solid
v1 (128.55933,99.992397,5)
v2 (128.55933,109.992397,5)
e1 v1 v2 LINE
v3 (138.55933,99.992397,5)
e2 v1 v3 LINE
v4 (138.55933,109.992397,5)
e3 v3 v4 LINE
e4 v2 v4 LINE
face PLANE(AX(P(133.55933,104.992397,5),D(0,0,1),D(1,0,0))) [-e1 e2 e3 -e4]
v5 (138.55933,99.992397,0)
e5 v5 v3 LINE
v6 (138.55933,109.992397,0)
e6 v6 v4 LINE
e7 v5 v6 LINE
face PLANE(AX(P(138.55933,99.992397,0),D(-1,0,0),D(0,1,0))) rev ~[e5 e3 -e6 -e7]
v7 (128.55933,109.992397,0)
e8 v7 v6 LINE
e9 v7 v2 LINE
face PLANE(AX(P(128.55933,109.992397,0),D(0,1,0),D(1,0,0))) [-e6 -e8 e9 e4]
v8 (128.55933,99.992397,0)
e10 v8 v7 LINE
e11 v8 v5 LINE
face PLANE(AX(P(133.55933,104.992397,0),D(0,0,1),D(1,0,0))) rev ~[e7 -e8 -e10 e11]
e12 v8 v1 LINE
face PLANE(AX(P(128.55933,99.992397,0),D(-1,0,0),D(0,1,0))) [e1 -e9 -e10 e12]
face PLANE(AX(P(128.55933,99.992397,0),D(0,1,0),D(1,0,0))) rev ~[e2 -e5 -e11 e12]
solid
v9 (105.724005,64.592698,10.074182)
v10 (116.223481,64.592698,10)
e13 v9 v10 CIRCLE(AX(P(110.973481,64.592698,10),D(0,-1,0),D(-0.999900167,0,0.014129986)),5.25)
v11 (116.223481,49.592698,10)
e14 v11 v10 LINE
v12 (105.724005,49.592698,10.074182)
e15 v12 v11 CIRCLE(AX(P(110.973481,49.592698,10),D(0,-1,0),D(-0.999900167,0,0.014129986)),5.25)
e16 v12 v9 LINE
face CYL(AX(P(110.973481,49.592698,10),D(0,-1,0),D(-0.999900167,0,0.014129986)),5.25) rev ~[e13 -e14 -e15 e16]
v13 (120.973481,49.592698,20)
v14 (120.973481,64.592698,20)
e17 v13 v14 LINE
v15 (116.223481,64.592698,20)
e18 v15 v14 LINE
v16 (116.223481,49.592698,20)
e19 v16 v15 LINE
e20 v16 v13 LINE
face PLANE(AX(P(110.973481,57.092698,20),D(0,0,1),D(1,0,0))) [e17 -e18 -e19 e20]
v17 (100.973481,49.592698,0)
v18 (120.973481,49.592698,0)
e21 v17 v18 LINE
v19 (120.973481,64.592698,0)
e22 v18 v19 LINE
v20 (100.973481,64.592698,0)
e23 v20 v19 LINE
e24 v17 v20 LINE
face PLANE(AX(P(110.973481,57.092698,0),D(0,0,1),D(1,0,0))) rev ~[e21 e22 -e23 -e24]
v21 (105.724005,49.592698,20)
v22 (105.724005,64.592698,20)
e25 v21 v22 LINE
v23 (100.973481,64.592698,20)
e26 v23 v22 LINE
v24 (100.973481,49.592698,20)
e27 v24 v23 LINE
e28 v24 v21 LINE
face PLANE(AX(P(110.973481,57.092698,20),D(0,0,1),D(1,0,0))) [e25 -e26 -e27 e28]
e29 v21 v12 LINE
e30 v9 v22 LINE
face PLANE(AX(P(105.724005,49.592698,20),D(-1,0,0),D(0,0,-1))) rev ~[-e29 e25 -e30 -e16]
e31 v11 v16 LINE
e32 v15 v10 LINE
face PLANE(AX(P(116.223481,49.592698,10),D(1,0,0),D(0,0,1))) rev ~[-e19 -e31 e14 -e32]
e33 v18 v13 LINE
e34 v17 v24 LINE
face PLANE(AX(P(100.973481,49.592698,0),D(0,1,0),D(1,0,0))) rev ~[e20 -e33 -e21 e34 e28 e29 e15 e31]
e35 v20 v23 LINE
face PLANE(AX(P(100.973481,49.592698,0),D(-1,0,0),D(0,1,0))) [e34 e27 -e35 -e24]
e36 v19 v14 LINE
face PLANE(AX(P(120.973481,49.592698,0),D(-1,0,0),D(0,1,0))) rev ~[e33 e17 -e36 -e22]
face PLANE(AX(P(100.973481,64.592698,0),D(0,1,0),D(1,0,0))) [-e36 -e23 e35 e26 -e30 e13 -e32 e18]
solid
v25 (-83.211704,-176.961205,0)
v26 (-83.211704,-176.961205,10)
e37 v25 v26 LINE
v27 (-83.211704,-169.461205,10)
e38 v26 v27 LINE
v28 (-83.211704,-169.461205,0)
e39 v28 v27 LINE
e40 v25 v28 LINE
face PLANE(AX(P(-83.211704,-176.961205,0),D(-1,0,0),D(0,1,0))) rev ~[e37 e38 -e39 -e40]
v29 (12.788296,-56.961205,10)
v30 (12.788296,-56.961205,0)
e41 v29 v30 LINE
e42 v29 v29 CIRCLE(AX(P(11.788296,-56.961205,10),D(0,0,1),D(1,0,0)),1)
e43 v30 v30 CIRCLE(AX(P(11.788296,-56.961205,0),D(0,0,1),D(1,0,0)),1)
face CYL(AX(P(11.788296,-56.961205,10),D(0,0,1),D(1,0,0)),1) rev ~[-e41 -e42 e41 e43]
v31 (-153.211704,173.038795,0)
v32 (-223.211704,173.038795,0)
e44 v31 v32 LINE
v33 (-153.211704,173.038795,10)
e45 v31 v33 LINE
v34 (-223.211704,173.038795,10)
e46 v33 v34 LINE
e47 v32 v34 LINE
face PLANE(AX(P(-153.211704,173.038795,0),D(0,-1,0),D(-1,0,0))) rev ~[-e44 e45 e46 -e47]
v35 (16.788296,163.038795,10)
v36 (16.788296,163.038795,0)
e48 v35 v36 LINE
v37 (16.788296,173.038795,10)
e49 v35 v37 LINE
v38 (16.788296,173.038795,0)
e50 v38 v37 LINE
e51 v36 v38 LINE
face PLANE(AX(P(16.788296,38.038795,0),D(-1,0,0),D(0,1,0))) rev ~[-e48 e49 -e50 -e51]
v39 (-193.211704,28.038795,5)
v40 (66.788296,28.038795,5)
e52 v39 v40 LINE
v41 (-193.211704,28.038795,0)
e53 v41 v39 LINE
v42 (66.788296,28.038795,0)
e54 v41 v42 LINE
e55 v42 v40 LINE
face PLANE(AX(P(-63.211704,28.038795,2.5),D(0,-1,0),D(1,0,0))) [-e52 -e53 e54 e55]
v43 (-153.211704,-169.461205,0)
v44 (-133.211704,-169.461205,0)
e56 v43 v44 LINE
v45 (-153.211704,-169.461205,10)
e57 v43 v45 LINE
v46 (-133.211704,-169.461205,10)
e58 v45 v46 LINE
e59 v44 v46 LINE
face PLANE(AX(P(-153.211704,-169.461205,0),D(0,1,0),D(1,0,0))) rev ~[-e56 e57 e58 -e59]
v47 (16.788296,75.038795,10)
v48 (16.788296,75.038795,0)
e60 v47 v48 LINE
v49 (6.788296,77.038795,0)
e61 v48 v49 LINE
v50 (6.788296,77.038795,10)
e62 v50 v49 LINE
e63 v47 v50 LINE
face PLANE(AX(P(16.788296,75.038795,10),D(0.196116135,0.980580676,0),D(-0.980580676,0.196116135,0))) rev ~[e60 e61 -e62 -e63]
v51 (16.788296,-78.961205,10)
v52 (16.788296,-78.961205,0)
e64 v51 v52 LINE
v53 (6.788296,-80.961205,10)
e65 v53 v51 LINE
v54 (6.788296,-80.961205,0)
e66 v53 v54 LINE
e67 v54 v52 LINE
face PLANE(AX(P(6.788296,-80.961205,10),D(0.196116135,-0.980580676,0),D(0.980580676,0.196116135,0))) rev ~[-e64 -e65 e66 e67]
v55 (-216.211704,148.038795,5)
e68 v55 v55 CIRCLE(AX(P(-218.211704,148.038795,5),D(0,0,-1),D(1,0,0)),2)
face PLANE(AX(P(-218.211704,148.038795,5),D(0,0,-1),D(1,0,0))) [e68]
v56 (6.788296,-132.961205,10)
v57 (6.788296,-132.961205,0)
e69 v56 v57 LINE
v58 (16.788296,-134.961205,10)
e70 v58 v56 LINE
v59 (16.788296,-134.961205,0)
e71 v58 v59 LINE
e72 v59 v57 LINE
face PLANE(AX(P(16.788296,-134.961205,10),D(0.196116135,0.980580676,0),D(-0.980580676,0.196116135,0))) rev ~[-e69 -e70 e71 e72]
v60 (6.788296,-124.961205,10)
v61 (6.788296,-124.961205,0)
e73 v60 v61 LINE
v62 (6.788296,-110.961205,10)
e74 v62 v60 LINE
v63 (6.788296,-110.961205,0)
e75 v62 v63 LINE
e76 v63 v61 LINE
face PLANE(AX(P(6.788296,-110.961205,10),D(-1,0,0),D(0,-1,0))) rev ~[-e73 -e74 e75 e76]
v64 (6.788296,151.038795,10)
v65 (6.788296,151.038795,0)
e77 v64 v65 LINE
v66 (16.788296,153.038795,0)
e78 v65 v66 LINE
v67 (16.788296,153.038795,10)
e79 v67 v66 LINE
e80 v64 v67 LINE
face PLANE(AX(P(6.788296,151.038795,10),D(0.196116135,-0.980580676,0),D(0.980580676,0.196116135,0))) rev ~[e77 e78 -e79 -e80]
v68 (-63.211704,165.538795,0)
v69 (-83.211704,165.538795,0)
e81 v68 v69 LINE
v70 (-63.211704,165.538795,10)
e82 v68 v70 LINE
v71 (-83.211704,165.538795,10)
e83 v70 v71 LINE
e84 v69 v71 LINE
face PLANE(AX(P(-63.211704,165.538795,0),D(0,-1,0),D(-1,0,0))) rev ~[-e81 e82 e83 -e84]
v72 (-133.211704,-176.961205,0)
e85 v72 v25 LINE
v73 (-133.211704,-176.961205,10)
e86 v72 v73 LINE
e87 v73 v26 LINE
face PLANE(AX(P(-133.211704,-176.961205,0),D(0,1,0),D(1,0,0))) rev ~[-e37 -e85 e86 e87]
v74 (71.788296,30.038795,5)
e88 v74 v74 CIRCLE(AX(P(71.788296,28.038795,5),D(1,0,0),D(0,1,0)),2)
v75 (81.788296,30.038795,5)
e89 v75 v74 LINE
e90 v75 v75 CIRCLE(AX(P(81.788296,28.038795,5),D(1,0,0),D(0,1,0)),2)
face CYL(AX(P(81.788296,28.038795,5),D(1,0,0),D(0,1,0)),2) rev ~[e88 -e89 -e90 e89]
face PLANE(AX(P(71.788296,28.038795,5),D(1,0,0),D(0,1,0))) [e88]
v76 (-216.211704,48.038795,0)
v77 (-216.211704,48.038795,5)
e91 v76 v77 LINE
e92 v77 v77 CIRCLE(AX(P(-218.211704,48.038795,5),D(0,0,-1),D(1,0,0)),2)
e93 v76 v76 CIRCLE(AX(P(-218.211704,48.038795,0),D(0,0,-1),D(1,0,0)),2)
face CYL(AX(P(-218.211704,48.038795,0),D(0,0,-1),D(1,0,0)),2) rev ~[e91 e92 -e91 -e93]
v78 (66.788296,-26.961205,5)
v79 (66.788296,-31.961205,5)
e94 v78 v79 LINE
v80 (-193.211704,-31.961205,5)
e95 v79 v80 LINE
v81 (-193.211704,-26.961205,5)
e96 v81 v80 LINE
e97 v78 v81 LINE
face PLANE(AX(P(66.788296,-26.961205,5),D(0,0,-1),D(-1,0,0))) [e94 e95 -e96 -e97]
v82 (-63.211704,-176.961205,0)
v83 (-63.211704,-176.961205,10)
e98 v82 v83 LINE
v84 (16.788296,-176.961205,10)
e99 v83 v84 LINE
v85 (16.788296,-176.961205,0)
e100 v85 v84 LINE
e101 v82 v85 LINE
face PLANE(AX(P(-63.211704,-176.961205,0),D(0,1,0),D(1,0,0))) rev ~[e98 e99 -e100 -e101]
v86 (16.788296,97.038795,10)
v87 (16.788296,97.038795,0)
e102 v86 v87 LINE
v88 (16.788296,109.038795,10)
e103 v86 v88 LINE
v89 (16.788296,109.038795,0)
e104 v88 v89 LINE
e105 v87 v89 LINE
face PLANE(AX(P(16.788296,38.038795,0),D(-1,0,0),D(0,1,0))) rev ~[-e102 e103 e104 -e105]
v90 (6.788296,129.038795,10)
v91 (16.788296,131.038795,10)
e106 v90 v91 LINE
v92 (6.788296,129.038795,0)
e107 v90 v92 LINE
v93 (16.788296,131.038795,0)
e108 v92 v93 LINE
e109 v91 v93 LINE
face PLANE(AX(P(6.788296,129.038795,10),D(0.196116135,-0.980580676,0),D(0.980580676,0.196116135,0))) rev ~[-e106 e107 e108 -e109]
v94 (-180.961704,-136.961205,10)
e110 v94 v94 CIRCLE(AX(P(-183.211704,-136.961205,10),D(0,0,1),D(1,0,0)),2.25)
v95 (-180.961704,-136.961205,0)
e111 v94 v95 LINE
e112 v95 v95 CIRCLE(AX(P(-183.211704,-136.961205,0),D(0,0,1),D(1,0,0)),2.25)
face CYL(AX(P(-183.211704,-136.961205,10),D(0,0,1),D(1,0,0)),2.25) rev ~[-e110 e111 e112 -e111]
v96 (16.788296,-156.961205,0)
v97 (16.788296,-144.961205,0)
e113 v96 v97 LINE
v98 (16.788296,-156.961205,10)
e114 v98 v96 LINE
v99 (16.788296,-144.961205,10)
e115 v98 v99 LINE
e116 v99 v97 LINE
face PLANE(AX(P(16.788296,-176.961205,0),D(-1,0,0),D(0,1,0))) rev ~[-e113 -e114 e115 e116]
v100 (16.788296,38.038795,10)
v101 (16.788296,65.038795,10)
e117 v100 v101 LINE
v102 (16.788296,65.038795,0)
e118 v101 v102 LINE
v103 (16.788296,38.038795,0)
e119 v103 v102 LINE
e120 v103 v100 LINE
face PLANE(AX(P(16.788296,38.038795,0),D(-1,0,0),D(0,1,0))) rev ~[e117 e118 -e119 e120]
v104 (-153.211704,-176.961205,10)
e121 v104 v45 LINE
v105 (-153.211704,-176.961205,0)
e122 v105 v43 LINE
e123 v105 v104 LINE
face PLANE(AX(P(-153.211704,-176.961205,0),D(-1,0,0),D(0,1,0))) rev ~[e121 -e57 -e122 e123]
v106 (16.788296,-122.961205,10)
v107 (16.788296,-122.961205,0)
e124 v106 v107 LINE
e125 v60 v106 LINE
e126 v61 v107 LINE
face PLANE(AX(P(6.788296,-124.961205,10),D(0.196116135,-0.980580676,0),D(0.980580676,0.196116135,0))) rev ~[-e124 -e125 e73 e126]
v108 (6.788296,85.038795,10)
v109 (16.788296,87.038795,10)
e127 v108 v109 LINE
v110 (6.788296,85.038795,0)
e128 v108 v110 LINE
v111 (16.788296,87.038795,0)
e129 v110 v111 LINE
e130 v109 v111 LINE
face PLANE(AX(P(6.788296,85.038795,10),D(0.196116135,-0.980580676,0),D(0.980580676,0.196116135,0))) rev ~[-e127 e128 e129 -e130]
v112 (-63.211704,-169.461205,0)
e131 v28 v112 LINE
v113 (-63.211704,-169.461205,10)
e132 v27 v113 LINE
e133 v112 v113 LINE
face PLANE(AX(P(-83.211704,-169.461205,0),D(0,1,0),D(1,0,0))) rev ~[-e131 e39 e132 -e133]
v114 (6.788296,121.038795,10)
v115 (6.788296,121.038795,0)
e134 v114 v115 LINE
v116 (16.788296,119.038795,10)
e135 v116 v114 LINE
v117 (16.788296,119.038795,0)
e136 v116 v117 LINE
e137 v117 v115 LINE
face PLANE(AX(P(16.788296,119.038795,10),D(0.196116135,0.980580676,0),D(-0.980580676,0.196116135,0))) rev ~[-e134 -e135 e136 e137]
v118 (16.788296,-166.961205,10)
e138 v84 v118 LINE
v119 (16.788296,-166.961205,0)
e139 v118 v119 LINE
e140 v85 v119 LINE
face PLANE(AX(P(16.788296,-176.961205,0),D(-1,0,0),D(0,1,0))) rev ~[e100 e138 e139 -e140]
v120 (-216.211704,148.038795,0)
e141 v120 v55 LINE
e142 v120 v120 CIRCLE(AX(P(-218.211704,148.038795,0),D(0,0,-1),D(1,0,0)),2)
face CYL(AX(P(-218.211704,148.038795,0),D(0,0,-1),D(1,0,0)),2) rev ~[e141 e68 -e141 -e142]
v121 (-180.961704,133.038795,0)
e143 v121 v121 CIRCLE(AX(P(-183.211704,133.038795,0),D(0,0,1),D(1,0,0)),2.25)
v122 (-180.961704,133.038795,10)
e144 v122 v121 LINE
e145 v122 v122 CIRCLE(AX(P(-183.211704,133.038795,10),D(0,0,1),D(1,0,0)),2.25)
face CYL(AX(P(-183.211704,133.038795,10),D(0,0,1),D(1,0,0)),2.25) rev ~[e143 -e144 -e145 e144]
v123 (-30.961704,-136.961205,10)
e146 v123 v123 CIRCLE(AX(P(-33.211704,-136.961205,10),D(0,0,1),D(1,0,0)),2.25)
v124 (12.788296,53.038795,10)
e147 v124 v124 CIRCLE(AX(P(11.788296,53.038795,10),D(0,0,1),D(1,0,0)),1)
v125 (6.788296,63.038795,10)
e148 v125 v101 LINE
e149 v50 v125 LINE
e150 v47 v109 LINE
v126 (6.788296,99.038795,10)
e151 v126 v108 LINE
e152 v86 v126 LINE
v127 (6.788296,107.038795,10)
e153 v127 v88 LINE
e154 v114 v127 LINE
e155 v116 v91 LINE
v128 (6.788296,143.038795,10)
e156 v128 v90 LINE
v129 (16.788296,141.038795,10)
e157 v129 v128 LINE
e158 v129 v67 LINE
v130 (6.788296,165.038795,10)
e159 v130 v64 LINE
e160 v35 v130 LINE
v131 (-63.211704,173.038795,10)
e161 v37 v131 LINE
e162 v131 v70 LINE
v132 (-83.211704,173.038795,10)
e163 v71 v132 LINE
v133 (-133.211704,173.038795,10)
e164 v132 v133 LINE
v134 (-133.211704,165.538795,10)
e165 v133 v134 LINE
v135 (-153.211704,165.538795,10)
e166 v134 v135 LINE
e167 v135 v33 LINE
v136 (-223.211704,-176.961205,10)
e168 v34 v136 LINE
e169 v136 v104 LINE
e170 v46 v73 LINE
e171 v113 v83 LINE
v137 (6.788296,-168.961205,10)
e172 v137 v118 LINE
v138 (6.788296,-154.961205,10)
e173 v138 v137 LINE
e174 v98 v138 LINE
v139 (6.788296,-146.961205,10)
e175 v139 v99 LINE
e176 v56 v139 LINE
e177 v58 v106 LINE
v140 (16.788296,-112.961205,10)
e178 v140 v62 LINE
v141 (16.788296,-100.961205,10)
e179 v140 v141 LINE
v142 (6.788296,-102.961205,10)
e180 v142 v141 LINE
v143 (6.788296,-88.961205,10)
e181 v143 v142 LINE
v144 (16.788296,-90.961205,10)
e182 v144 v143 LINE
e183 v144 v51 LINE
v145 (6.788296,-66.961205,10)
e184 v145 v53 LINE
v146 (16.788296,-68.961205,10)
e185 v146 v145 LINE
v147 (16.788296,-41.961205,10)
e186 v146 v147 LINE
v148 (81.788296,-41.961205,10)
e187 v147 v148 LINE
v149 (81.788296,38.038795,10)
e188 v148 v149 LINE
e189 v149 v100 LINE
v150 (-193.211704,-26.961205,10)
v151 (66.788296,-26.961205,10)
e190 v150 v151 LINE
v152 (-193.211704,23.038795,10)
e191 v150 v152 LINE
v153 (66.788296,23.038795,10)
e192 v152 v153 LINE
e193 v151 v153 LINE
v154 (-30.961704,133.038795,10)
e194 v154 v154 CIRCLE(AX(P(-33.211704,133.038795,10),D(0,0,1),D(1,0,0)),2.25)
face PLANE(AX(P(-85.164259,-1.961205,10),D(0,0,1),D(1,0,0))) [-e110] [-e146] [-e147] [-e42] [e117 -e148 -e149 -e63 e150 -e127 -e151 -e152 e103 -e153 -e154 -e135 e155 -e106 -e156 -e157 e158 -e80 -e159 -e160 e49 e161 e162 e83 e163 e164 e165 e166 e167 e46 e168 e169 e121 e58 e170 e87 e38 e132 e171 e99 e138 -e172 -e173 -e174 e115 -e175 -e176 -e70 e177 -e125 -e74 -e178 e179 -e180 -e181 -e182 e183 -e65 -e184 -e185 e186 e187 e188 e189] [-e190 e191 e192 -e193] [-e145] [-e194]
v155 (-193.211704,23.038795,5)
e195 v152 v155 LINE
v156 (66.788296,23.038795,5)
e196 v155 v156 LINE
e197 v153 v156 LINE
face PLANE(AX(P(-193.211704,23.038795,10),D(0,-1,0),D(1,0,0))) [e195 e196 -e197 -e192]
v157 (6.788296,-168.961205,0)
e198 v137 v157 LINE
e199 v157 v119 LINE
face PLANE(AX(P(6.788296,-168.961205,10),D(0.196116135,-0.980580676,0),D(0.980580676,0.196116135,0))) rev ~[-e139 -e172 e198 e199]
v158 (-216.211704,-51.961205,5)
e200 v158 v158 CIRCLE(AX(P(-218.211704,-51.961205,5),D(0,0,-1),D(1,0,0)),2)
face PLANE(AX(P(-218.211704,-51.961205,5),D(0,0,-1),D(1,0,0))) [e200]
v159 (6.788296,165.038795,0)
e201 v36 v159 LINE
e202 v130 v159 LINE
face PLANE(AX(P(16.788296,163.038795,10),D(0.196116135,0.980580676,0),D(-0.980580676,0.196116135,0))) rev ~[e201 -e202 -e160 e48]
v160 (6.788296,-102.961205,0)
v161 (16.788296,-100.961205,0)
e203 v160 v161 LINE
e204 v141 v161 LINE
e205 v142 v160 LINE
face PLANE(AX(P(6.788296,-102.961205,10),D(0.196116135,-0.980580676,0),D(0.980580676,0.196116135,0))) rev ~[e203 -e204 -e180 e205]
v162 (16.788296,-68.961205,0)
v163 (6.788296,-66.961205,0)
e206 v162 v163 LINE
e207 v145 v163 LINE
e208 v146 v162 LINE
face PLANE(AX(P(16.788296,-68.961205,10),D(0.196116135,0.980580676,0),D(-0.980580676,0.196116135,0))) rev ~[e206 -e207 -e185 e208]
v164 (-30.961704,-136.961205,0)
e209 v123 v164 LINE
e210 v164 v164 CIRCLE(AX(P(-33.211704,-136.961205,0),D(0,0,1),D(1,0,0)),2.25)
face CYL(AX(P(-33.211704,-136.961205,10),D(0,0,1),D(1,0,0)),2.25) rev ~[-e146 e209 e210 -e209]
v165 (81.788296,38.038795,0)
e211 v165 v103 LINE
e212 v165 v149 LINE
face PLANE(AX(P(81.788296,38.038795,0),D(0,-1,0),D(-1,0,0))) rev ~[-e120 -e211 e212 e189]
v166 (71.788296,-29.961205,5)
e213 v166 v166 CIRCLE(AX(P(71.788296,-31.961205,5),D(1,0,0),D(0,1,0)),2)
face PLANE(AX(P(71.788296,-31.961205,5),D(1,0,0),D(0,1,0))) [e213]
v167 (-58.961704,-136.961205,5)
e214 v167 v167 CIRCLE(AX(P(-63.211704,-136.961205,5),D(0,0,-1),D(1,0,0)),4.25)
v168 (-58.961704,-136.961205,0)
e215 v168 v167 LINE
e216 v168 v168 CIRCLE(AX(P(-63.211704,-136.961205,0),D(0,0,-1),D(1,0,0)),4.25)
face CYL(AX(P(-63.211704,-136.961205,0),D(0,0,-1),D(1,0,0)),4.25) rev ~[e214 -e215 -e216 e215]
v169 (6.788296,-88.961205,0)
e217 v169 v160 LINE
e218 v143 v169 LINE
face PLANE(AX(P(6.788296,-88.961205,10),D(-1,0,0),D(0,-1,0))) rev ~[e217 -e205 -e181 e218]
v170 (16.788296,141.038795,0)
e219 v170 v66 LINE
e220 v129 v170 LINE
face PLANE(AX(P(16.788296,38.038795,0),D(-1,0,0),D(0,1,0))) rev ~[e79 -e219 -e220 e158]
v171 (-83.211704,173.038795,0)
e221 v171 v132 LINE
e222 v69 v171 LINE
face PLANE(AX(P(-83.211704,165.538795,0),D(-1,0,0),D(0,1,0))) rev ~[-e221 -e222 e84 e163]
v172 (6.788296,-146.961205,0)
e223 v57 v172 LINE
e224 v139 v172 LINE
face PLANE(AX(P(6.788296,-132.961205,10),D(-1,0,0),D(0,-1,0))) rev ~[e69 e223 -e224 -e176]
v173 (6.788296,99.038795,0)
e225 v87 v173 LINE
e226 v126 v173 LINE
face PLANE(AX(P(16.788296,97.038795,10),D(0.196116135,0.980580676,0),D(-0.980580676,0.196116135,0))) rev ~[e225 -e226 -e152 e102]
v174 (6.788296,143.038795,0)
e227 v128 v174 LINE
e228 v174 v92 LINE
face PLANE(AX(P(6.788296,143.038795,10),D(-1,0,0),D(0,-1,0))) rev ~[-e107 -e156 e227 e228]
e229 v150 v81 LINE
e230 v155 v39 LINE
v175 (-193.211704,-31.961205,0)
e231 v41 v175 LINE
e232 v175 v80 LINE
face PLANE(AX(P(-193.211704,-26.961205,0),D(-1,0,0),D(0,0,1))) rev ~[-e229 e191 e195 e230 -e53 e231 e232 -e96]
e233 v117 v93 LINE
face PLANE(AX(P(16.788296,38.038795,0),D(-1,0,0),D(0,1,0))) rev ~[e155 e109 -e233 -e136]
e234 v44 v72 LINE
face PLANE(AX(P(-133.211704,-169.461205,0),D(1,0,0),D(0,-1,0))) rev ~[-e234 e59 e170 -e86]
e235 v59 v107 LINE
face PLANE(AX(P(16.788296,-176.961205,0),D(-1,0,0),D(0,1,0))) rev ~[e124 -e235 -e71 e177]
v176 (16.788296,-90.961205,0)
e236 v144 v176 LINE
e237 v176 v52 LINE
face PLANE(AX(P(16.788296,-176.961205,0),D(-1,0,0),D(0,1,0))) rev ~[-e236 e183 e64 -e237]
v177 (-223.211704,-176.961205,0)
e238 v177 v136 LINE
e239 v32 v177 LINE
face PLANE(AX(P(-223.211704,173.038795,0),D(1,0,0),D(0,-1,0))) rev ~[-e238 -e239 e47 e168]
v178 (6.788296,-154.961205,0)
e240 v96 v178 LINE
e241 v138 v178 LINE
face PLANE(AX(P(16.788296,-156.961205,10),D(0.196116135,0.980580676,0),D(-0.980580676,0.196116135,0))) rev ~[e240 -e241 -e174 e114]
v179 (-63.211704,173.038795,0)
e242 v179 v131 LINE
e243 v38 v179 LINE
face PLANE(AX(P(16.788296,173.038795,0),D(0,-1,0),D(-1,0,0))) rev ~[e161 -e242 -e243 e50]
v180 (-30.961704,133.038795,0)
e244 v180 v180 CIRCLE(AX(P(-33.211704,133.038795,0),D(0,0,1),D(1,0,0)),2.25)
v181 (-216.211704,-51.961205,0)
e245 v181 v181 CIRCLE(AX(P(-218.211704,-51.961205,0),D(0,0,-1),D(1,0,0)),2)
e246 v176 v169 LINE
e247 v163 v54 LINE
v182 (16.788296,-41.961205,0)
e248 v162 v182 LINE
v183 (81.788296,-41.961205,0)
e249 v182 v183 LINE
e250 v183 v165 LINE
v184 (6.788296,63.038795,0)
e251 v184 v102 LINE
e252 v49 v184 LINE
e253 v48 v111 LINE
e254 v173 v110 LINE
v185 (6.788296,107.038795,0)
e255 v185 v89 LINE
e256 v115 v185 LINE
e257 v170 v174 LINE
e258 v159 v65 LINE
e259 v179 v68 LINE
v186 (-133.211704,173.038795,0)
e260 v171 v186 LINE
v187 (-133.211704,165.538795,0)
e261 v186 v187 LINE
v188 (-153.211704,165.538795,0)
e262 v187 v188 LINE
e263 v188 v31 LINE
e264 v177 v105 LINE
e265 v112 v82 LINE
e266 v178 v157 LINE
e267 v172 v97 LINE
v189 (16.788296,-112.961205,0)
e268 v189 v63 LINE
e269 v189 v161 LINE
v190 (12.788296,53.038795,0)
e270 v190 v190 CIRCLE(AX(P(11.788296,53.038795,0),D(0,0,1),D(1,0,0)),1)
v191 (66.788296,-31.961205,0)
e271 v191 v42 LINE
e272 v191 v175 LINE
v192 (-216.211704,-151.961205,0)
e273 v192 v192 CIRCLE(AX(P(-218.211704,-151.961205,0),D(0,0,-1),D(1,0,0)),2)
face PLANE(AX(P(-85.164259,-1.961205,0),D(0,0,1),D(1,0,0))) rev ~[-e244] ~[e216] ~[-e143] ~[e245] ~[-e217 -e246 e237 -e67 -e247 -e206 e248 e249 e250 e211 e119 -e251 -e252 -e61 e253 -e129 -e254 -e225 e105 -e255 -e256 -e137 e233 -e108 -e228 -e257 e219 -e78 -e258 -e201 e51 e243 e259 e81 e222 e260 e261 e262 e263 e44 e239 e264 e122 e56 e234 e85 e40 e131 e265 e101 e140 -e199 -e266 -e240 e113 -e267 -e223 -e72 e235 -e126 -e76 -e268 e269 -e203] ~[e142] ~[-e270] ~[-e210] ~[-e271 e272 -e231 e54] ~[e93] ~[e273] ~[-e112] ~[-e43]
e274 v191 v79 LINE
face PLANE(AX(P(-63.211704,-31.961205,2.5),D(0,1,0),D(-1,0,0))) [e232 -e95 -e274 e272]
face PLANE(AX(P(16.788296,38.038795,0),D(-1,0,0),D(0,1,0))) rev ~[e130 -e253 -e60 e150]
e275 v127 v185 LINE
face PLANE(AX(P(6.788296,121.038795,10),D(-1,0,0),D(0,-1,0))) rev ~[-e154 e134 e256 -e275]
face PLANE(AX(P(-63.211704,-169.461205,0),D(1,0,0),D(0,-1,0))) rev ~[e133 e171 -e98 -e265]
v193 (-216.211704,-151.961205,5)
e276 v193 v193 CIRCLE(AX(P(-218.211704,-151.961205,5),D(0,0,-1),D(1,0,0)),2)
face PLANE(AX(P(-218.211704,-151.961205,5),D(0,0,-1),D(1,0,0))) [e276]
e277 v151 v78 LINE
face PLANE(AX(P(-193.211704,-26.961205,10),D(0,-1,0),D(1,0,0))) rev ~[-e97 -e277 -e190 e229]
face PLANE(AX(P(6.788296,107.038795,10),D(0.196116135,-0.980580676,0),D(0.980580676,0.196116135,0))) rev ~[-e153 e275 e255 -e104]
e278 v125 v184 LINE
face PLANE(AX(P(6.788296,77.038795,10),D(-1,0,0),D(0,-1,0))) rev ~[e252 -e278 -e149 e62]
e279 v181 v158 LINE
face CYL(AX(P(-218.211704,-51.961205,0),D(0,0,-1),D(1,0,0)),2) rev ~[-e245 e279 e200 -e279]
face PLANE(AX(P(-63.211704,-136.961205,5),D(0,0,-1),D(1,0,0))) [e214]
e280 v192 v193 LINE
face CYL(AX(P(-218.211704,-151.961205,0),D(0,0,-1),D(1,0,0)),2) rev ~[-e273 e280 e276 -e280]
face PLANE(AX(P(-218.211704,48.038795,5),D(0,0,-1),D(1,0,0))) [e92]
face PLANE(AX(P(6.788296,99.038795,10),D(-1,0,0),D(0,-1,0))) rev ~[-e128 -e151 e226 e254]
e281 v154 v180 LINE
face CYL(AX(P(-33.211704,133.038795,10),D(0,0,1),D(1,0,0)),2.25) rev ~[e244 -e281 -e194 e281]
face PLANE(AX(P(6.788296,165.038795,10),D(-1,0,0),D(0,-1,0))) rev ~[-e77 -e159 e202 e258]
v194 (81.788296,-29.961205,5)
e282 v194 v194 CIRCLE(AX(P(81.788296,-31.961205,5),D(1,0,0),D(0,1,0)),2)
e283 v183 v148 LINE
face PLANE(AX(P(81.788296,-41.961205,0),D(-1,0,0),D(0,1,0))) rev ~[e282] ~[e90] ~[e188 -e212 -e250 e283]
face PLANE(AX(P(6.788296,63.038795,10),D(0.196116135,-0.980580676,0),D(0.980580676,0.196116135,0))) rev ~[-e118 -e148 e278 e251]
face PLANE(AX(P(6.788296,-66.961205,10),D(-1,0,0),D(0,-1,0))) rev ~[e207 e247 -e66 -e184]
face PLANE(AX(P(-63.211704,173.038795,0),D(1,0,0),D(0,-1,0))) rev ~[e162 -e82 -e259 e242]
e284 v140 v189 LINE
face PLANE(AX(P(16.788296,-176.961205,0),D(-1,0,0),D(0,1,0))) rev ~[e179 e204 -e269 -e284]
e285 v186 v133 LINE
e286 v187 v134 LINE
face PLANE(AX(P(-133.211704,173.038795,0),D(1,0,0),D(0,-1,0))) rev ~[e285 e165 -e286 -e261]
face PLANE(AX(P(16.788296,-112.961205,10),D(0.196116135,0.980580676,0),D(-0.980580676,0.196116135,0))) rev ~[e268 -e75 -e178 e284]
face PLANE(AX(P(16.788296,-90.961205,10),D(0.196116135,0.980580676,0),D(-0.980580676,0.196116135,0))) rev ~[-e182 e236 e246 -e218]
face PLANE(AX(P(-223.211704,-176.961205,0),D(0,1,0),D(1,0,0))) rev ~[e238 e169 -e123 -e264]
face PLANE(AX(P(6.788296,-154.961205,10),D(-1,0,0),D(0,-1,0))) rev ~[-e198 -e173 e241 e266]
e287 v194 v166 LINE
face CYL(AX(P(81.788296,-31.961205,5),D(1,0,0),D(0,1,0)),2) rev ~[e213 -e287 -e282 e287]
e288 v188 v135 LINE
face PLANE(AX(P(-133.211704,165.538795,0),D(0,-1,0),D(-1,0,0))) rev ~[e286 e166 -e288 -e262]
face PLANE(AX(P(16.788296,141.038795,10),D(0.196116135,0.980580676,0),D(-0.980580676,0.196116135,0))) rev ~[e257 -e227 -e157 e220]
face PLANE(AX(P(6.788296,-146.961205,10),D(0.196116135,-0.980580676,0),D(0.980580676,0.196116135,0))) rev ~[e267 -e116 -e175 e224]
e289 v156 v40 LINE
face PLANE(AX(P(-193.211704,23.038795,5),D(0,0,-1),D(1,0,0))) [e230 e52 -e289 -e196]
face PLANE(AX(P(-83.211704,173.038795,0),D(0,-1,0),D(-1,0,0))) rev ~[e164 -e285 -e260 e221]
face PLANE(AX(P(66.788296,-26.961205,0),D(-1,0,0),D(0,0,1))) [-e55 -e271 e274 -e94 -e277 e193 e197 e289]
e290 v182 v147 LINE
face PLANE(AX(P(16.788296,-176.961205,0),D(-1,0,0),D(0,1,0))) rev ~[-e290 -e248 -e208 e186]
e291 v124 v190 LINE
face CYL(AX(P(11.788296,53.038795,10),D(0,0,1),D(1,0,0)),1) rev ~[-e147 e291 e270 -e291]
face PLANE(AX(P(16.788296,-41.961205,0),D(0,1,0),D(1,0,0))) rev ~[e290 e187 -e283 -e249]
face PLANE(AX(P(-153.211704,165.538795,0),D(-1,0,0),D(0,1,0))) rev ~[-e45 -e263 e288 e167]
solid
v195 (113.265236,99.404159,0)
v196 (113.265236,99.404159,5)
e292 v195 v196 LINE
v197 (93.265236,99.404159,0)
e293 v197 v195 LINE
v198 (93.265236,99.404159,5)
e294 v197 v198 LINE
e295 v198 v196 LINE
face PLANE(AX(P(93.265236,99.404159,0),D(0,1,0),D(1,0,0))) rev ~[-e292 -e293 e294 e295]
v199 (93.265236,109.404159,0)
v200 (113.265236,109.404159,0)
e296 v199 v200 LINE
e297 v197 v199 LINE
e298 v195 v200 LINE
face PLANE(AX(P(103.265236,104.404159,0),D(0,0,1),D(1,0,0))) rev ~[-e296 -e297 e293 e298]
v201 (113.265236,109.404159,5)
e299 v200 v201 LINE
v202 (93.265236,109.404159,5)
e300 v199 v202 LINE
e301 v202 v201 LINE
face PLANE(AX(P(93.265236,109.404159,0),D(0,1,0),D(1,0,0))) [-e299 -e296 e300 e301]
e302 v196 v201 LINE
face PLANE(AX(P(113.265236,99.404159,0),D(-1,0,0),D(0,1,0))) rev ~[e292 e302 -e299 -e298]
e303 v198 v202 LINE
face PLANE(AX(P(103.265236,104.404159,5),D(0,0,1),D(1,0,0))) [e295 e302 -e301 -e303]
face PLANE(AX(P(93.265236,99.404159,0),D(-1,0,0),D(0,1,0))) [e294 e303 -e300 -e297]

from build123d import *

# Parameters (mm, degrees)
F1_DEPTH  = 10
F2_W      = 260
F2_H      = 50
F3_DEPTH  = 10.001
F4_W      = 260
F4_H      = 5
F5_DEPTH  = 5
F6_W      = 260
F6_H      = 5
F7_DEPTH  = 5
F8_R      = 2.25
F9_DEPTH  = 10.001
F10_R     = 4.25
F10_R_2   = 2
F11_DEPTH = 5
F12_R     = 1
F13_DEPTH = 10.001
F14_W     = 20
F14_H     = 10
F15_DEPTH = 5
F14_W_2   = 10
F16_W     = 20
F16_H     = 15
F17_DEPTH = 20
F19_DEPTH = 123.4470965771
F20_R     = 2
F21_DEPTH = 10
F23_DEPTH = 10.001


with BuildPart() as f1:
    # F0 (on Top) → F1 (new body)
    with BuildSketch(Plane.XY):
        Polygon((-153.2117038436, 173.0387948453), (-223.2117038436, 173.0387948453), (-223.2117038436, -176.9612051547), (-153.2117038436, -176.9612051547), (-153.2117038436, -169.4612051547), (-133.2117038436, -169.4612051547), (-133.2117038436, -176.9612051547), (-83.2117038436, -176.9612051547), (-83.2117038436, -169.4612051547), (-63.2117038436, -169.4612051547), (-63.2117038436, -176.9612051547), (16.7882961564, -176.9612051547), (16.7882961564, -41.9612051547), (81.7882961564, -41.9612051547), (81.7882961564, 38.0387948453), (16.7882961564, 38.0387948453), (16.7882961564, 173.0387948453), (-63.2117038436, 173.0387948453), (-63.2117038436, 165.5387948453), (-83.2117038436, 165.5387948453), (-83.2117038436, 173.0387948453), (-133.2117038436, 173.0387948453), (-133.2117038436, 165.5387948453), (-153.2117038436, 165.5387948453), align=None)
    extrude(amount=F1_DEPTH)

    # F2 (on face) → F3 (cut, through all)
    with BuildSketch(Plane.XY.offset(10)):
        with Locations((-63.2117038436, -1.9612051547)):
            Rectangle(F2_W, F2_H)
    extrude(amount=-F3_DEPTH, mode=Mode.SUBTRACT)

    # F4 (on face) → F5 (cut)
    with BuildSketch(Plane.XZ.offset(-23.0387948453)):
        with Locations((-63.2117038436, 2.5)):
            Rectangle(F4_W, F4_H)
    extrude(amount=-F5_DEPTH, mode=Mode.SUBTRACT)

    # F6 (on face) → F7 (cut)
    with BuildSketch(Plane(origin=(0, -26.9612051547, 0), x_dir=(-1, 0, 0), z_dir=(0, 1, 0))):
        with Locations((63.2117038436, 2.5)):
            Rectangle(F6_W, F6_H)
    extrude(amount=-F7_DEPTH, mode=Mode.SUBTRACT)

    # F8 (on face) → F9 (cut, through all)
    with BuildSketch(Plane.XY.offset(10)):
        with Locations((-183.2117038436, 133.0387948453)):
            Circle(F8_R)
        with Locations((-33.2117038436, 133.0387948453)):
            Circle(F8_R)
        with Locations((-183.2117038436, -136.9612051547)):
            Circle(F8_R)
        with Locations((-33.2117038436, -136.9612051547)):
            Circle(F8_R)
    extrude(amount=-F9_DEPTH, mode=Mode.SUBTRACT)

    # F10 (on face) → F11 (cut)
    with BuildSketch(Plane(origin=(0, 0, 0), x_dir=(1, 0, 0), z_dir=(0, 0, -1))):
        with Locations((-63.2117038436, 136.9612051547)):
            Circle(F10_R)
        with Locations((-218.2117038436, 151.9612051547)):
            Circle(F10_R_2)
        with Locations((-218.2117038436, 51.9612051547)):
            Circle(F10_R_2)
        with Locations((-218.2117038436, -48.0387948453)):
            Circle(F10_R_2)
        with Locations((-218.2117038436, -148.0387948453)):
            Circle(F10_R_2)
    extrude(amount=-F11_DEPTH, mode=Mode.SUBTRACT)

    # F12 (on face) → F13 (cut, through all)
    with BuildSketch(Plane.XY.offset(10)):
        with Locations((11.7882961564, -56.9612051547)):
            Circle(F12_R)
        with Locations((11.7882961564, 53.0387948453)):
            Circle(F12_R)
    extrude(amount=-F13_DEPTH, mode=Mode.SUBTRACT)

    # F20 (on face) → F21 (cut)
    with BuildSketch(Plane.YZ.offset(81.7882961564)):
        with Locations((-31.9612051547, 5)):
            Circle(F20_R)
        with Locations((28.0387948453, 5)):
            Circle(F20_R)
    extrude(amount=-F21_DEPTH, mode=Mode.SUBTRACT)

    # F22 (on face) → F23 (cut, through all)
    with BuildSketch(Plane.XY.offset(10)):
        Polygon((6.7882961564, -168.9612051547), (16.7882961564, -166.9612051547), (16.7882961564, -156.9612051547), (6.7882961564, -154.9612051547), align=None)
        Polygon((16.7882961564, 153.0387948453), (16.7882961564, 163.0387948453), (6.7882961564, 165.0387948453), (6.7882961564, 151.0387948453), align=None)
        Polygon((6.7882961564, 143.0387948453), (6.7882961564, 129.0387948453), (16.7882961564, 131.0387948453), (16.7882961564, 141.0387948453), align=None)
        Polygon((6.7882961564, 121.0387948453), (6.7882961564, 107.0387948453), (16.7882961564, 109.0387948453), (16.7882961564, 119.0387948453), align=None)
        Polygon((6.7882961564, 99.0387948453), (6.7882961564, 85.0387948453), (16.7882961564, 87.0387948453), (16.7882961564, 97.0387948453), align=None)
        Polygon((6.7882961564, -146.9612051547), (16.7882961564, -144.9612051547), (16.7882961564, -134.9612051547), (6.7882961564, -132.9612051547), align=None)
        Polygon((6.7882961564, -124.9612051547), (16.7882961564, -122.9612051547), (16.7882961564, -112.9612051547), (6.7882961564, -110.9612051547), align=None)
        Polygon((6.7882961564, -102.9612051547), (16.7882961564, -100.9612051547), (16.7882961564, -90.9612051547), (6.7882961564, -88.9612051547), align=None)
        Polygon((6.7882961564, 77.0387948453), (6.7882961564, 63.0387948453), (16.7882961564, 65.0387948453), (16.7882961564, 75.0387948453), align=None)
        Polygon((6.7882961564, -80.9612051547), (16.7882961564, -78.9612051547), (16.7882961564, -68.9612051547), (6.7882961564, -66.9612051547), align=None)
    extrude(amount=-F23_DEPTH, mode=Mode.SUBTRACT)


with BuildPart() as f15:
    # F14 (on Top) → F15 (new body)
    with BuildSketch(Plane.XY):
        with Locations((103.2652358298, 104.4041585319)):
            Rectangle(F14_W, F14_H)
    extrude(amount=F15_DEPTH)


with BuildPart() as f15b:
    # F14 (on Top) → F15, piece 2 (new body)
    with BuildSketch(Plane.XY):
        with Locations((133.5593304069, 104.9923974879)):
            Rectangle(F14_W_2, F14_H)
    extrude(amount=F15_DEPTH)


with BuildPart() as f17:
    # F16 (on Top) → F17 (new body)
    with BuildSketch(Plane.XY):
        with Locations((110.9734810889, 57.0926982683)):
            Rectangle(F16_W, F16_H)
    extrude(amount=F17_DEPTH)

    # F18 (on face) → F19 (cut, through all)
    with BuildSketch(Plane.XZ.offset(-49.5926982683)):
        with BuildLine():
            Line((105.7240052134, 20), (105.7240052134, 10.0741824286))
            ThreePointArc((105.7240052134, 10.0741824286), (110.9363889488, 4.7501310328), (116.2234810889, 10))
            Line((116.2234810889, 10), (116.2234810889, 20))
            Line((116.2234810889, 20), (105.7240052134, 20))
        make_face()
    extrude(amount=-F19_DEPTH, mode=Mode.SUBTRACT)


solid = Compound([f1.part, f15.part, f15b.part, f17.part])
